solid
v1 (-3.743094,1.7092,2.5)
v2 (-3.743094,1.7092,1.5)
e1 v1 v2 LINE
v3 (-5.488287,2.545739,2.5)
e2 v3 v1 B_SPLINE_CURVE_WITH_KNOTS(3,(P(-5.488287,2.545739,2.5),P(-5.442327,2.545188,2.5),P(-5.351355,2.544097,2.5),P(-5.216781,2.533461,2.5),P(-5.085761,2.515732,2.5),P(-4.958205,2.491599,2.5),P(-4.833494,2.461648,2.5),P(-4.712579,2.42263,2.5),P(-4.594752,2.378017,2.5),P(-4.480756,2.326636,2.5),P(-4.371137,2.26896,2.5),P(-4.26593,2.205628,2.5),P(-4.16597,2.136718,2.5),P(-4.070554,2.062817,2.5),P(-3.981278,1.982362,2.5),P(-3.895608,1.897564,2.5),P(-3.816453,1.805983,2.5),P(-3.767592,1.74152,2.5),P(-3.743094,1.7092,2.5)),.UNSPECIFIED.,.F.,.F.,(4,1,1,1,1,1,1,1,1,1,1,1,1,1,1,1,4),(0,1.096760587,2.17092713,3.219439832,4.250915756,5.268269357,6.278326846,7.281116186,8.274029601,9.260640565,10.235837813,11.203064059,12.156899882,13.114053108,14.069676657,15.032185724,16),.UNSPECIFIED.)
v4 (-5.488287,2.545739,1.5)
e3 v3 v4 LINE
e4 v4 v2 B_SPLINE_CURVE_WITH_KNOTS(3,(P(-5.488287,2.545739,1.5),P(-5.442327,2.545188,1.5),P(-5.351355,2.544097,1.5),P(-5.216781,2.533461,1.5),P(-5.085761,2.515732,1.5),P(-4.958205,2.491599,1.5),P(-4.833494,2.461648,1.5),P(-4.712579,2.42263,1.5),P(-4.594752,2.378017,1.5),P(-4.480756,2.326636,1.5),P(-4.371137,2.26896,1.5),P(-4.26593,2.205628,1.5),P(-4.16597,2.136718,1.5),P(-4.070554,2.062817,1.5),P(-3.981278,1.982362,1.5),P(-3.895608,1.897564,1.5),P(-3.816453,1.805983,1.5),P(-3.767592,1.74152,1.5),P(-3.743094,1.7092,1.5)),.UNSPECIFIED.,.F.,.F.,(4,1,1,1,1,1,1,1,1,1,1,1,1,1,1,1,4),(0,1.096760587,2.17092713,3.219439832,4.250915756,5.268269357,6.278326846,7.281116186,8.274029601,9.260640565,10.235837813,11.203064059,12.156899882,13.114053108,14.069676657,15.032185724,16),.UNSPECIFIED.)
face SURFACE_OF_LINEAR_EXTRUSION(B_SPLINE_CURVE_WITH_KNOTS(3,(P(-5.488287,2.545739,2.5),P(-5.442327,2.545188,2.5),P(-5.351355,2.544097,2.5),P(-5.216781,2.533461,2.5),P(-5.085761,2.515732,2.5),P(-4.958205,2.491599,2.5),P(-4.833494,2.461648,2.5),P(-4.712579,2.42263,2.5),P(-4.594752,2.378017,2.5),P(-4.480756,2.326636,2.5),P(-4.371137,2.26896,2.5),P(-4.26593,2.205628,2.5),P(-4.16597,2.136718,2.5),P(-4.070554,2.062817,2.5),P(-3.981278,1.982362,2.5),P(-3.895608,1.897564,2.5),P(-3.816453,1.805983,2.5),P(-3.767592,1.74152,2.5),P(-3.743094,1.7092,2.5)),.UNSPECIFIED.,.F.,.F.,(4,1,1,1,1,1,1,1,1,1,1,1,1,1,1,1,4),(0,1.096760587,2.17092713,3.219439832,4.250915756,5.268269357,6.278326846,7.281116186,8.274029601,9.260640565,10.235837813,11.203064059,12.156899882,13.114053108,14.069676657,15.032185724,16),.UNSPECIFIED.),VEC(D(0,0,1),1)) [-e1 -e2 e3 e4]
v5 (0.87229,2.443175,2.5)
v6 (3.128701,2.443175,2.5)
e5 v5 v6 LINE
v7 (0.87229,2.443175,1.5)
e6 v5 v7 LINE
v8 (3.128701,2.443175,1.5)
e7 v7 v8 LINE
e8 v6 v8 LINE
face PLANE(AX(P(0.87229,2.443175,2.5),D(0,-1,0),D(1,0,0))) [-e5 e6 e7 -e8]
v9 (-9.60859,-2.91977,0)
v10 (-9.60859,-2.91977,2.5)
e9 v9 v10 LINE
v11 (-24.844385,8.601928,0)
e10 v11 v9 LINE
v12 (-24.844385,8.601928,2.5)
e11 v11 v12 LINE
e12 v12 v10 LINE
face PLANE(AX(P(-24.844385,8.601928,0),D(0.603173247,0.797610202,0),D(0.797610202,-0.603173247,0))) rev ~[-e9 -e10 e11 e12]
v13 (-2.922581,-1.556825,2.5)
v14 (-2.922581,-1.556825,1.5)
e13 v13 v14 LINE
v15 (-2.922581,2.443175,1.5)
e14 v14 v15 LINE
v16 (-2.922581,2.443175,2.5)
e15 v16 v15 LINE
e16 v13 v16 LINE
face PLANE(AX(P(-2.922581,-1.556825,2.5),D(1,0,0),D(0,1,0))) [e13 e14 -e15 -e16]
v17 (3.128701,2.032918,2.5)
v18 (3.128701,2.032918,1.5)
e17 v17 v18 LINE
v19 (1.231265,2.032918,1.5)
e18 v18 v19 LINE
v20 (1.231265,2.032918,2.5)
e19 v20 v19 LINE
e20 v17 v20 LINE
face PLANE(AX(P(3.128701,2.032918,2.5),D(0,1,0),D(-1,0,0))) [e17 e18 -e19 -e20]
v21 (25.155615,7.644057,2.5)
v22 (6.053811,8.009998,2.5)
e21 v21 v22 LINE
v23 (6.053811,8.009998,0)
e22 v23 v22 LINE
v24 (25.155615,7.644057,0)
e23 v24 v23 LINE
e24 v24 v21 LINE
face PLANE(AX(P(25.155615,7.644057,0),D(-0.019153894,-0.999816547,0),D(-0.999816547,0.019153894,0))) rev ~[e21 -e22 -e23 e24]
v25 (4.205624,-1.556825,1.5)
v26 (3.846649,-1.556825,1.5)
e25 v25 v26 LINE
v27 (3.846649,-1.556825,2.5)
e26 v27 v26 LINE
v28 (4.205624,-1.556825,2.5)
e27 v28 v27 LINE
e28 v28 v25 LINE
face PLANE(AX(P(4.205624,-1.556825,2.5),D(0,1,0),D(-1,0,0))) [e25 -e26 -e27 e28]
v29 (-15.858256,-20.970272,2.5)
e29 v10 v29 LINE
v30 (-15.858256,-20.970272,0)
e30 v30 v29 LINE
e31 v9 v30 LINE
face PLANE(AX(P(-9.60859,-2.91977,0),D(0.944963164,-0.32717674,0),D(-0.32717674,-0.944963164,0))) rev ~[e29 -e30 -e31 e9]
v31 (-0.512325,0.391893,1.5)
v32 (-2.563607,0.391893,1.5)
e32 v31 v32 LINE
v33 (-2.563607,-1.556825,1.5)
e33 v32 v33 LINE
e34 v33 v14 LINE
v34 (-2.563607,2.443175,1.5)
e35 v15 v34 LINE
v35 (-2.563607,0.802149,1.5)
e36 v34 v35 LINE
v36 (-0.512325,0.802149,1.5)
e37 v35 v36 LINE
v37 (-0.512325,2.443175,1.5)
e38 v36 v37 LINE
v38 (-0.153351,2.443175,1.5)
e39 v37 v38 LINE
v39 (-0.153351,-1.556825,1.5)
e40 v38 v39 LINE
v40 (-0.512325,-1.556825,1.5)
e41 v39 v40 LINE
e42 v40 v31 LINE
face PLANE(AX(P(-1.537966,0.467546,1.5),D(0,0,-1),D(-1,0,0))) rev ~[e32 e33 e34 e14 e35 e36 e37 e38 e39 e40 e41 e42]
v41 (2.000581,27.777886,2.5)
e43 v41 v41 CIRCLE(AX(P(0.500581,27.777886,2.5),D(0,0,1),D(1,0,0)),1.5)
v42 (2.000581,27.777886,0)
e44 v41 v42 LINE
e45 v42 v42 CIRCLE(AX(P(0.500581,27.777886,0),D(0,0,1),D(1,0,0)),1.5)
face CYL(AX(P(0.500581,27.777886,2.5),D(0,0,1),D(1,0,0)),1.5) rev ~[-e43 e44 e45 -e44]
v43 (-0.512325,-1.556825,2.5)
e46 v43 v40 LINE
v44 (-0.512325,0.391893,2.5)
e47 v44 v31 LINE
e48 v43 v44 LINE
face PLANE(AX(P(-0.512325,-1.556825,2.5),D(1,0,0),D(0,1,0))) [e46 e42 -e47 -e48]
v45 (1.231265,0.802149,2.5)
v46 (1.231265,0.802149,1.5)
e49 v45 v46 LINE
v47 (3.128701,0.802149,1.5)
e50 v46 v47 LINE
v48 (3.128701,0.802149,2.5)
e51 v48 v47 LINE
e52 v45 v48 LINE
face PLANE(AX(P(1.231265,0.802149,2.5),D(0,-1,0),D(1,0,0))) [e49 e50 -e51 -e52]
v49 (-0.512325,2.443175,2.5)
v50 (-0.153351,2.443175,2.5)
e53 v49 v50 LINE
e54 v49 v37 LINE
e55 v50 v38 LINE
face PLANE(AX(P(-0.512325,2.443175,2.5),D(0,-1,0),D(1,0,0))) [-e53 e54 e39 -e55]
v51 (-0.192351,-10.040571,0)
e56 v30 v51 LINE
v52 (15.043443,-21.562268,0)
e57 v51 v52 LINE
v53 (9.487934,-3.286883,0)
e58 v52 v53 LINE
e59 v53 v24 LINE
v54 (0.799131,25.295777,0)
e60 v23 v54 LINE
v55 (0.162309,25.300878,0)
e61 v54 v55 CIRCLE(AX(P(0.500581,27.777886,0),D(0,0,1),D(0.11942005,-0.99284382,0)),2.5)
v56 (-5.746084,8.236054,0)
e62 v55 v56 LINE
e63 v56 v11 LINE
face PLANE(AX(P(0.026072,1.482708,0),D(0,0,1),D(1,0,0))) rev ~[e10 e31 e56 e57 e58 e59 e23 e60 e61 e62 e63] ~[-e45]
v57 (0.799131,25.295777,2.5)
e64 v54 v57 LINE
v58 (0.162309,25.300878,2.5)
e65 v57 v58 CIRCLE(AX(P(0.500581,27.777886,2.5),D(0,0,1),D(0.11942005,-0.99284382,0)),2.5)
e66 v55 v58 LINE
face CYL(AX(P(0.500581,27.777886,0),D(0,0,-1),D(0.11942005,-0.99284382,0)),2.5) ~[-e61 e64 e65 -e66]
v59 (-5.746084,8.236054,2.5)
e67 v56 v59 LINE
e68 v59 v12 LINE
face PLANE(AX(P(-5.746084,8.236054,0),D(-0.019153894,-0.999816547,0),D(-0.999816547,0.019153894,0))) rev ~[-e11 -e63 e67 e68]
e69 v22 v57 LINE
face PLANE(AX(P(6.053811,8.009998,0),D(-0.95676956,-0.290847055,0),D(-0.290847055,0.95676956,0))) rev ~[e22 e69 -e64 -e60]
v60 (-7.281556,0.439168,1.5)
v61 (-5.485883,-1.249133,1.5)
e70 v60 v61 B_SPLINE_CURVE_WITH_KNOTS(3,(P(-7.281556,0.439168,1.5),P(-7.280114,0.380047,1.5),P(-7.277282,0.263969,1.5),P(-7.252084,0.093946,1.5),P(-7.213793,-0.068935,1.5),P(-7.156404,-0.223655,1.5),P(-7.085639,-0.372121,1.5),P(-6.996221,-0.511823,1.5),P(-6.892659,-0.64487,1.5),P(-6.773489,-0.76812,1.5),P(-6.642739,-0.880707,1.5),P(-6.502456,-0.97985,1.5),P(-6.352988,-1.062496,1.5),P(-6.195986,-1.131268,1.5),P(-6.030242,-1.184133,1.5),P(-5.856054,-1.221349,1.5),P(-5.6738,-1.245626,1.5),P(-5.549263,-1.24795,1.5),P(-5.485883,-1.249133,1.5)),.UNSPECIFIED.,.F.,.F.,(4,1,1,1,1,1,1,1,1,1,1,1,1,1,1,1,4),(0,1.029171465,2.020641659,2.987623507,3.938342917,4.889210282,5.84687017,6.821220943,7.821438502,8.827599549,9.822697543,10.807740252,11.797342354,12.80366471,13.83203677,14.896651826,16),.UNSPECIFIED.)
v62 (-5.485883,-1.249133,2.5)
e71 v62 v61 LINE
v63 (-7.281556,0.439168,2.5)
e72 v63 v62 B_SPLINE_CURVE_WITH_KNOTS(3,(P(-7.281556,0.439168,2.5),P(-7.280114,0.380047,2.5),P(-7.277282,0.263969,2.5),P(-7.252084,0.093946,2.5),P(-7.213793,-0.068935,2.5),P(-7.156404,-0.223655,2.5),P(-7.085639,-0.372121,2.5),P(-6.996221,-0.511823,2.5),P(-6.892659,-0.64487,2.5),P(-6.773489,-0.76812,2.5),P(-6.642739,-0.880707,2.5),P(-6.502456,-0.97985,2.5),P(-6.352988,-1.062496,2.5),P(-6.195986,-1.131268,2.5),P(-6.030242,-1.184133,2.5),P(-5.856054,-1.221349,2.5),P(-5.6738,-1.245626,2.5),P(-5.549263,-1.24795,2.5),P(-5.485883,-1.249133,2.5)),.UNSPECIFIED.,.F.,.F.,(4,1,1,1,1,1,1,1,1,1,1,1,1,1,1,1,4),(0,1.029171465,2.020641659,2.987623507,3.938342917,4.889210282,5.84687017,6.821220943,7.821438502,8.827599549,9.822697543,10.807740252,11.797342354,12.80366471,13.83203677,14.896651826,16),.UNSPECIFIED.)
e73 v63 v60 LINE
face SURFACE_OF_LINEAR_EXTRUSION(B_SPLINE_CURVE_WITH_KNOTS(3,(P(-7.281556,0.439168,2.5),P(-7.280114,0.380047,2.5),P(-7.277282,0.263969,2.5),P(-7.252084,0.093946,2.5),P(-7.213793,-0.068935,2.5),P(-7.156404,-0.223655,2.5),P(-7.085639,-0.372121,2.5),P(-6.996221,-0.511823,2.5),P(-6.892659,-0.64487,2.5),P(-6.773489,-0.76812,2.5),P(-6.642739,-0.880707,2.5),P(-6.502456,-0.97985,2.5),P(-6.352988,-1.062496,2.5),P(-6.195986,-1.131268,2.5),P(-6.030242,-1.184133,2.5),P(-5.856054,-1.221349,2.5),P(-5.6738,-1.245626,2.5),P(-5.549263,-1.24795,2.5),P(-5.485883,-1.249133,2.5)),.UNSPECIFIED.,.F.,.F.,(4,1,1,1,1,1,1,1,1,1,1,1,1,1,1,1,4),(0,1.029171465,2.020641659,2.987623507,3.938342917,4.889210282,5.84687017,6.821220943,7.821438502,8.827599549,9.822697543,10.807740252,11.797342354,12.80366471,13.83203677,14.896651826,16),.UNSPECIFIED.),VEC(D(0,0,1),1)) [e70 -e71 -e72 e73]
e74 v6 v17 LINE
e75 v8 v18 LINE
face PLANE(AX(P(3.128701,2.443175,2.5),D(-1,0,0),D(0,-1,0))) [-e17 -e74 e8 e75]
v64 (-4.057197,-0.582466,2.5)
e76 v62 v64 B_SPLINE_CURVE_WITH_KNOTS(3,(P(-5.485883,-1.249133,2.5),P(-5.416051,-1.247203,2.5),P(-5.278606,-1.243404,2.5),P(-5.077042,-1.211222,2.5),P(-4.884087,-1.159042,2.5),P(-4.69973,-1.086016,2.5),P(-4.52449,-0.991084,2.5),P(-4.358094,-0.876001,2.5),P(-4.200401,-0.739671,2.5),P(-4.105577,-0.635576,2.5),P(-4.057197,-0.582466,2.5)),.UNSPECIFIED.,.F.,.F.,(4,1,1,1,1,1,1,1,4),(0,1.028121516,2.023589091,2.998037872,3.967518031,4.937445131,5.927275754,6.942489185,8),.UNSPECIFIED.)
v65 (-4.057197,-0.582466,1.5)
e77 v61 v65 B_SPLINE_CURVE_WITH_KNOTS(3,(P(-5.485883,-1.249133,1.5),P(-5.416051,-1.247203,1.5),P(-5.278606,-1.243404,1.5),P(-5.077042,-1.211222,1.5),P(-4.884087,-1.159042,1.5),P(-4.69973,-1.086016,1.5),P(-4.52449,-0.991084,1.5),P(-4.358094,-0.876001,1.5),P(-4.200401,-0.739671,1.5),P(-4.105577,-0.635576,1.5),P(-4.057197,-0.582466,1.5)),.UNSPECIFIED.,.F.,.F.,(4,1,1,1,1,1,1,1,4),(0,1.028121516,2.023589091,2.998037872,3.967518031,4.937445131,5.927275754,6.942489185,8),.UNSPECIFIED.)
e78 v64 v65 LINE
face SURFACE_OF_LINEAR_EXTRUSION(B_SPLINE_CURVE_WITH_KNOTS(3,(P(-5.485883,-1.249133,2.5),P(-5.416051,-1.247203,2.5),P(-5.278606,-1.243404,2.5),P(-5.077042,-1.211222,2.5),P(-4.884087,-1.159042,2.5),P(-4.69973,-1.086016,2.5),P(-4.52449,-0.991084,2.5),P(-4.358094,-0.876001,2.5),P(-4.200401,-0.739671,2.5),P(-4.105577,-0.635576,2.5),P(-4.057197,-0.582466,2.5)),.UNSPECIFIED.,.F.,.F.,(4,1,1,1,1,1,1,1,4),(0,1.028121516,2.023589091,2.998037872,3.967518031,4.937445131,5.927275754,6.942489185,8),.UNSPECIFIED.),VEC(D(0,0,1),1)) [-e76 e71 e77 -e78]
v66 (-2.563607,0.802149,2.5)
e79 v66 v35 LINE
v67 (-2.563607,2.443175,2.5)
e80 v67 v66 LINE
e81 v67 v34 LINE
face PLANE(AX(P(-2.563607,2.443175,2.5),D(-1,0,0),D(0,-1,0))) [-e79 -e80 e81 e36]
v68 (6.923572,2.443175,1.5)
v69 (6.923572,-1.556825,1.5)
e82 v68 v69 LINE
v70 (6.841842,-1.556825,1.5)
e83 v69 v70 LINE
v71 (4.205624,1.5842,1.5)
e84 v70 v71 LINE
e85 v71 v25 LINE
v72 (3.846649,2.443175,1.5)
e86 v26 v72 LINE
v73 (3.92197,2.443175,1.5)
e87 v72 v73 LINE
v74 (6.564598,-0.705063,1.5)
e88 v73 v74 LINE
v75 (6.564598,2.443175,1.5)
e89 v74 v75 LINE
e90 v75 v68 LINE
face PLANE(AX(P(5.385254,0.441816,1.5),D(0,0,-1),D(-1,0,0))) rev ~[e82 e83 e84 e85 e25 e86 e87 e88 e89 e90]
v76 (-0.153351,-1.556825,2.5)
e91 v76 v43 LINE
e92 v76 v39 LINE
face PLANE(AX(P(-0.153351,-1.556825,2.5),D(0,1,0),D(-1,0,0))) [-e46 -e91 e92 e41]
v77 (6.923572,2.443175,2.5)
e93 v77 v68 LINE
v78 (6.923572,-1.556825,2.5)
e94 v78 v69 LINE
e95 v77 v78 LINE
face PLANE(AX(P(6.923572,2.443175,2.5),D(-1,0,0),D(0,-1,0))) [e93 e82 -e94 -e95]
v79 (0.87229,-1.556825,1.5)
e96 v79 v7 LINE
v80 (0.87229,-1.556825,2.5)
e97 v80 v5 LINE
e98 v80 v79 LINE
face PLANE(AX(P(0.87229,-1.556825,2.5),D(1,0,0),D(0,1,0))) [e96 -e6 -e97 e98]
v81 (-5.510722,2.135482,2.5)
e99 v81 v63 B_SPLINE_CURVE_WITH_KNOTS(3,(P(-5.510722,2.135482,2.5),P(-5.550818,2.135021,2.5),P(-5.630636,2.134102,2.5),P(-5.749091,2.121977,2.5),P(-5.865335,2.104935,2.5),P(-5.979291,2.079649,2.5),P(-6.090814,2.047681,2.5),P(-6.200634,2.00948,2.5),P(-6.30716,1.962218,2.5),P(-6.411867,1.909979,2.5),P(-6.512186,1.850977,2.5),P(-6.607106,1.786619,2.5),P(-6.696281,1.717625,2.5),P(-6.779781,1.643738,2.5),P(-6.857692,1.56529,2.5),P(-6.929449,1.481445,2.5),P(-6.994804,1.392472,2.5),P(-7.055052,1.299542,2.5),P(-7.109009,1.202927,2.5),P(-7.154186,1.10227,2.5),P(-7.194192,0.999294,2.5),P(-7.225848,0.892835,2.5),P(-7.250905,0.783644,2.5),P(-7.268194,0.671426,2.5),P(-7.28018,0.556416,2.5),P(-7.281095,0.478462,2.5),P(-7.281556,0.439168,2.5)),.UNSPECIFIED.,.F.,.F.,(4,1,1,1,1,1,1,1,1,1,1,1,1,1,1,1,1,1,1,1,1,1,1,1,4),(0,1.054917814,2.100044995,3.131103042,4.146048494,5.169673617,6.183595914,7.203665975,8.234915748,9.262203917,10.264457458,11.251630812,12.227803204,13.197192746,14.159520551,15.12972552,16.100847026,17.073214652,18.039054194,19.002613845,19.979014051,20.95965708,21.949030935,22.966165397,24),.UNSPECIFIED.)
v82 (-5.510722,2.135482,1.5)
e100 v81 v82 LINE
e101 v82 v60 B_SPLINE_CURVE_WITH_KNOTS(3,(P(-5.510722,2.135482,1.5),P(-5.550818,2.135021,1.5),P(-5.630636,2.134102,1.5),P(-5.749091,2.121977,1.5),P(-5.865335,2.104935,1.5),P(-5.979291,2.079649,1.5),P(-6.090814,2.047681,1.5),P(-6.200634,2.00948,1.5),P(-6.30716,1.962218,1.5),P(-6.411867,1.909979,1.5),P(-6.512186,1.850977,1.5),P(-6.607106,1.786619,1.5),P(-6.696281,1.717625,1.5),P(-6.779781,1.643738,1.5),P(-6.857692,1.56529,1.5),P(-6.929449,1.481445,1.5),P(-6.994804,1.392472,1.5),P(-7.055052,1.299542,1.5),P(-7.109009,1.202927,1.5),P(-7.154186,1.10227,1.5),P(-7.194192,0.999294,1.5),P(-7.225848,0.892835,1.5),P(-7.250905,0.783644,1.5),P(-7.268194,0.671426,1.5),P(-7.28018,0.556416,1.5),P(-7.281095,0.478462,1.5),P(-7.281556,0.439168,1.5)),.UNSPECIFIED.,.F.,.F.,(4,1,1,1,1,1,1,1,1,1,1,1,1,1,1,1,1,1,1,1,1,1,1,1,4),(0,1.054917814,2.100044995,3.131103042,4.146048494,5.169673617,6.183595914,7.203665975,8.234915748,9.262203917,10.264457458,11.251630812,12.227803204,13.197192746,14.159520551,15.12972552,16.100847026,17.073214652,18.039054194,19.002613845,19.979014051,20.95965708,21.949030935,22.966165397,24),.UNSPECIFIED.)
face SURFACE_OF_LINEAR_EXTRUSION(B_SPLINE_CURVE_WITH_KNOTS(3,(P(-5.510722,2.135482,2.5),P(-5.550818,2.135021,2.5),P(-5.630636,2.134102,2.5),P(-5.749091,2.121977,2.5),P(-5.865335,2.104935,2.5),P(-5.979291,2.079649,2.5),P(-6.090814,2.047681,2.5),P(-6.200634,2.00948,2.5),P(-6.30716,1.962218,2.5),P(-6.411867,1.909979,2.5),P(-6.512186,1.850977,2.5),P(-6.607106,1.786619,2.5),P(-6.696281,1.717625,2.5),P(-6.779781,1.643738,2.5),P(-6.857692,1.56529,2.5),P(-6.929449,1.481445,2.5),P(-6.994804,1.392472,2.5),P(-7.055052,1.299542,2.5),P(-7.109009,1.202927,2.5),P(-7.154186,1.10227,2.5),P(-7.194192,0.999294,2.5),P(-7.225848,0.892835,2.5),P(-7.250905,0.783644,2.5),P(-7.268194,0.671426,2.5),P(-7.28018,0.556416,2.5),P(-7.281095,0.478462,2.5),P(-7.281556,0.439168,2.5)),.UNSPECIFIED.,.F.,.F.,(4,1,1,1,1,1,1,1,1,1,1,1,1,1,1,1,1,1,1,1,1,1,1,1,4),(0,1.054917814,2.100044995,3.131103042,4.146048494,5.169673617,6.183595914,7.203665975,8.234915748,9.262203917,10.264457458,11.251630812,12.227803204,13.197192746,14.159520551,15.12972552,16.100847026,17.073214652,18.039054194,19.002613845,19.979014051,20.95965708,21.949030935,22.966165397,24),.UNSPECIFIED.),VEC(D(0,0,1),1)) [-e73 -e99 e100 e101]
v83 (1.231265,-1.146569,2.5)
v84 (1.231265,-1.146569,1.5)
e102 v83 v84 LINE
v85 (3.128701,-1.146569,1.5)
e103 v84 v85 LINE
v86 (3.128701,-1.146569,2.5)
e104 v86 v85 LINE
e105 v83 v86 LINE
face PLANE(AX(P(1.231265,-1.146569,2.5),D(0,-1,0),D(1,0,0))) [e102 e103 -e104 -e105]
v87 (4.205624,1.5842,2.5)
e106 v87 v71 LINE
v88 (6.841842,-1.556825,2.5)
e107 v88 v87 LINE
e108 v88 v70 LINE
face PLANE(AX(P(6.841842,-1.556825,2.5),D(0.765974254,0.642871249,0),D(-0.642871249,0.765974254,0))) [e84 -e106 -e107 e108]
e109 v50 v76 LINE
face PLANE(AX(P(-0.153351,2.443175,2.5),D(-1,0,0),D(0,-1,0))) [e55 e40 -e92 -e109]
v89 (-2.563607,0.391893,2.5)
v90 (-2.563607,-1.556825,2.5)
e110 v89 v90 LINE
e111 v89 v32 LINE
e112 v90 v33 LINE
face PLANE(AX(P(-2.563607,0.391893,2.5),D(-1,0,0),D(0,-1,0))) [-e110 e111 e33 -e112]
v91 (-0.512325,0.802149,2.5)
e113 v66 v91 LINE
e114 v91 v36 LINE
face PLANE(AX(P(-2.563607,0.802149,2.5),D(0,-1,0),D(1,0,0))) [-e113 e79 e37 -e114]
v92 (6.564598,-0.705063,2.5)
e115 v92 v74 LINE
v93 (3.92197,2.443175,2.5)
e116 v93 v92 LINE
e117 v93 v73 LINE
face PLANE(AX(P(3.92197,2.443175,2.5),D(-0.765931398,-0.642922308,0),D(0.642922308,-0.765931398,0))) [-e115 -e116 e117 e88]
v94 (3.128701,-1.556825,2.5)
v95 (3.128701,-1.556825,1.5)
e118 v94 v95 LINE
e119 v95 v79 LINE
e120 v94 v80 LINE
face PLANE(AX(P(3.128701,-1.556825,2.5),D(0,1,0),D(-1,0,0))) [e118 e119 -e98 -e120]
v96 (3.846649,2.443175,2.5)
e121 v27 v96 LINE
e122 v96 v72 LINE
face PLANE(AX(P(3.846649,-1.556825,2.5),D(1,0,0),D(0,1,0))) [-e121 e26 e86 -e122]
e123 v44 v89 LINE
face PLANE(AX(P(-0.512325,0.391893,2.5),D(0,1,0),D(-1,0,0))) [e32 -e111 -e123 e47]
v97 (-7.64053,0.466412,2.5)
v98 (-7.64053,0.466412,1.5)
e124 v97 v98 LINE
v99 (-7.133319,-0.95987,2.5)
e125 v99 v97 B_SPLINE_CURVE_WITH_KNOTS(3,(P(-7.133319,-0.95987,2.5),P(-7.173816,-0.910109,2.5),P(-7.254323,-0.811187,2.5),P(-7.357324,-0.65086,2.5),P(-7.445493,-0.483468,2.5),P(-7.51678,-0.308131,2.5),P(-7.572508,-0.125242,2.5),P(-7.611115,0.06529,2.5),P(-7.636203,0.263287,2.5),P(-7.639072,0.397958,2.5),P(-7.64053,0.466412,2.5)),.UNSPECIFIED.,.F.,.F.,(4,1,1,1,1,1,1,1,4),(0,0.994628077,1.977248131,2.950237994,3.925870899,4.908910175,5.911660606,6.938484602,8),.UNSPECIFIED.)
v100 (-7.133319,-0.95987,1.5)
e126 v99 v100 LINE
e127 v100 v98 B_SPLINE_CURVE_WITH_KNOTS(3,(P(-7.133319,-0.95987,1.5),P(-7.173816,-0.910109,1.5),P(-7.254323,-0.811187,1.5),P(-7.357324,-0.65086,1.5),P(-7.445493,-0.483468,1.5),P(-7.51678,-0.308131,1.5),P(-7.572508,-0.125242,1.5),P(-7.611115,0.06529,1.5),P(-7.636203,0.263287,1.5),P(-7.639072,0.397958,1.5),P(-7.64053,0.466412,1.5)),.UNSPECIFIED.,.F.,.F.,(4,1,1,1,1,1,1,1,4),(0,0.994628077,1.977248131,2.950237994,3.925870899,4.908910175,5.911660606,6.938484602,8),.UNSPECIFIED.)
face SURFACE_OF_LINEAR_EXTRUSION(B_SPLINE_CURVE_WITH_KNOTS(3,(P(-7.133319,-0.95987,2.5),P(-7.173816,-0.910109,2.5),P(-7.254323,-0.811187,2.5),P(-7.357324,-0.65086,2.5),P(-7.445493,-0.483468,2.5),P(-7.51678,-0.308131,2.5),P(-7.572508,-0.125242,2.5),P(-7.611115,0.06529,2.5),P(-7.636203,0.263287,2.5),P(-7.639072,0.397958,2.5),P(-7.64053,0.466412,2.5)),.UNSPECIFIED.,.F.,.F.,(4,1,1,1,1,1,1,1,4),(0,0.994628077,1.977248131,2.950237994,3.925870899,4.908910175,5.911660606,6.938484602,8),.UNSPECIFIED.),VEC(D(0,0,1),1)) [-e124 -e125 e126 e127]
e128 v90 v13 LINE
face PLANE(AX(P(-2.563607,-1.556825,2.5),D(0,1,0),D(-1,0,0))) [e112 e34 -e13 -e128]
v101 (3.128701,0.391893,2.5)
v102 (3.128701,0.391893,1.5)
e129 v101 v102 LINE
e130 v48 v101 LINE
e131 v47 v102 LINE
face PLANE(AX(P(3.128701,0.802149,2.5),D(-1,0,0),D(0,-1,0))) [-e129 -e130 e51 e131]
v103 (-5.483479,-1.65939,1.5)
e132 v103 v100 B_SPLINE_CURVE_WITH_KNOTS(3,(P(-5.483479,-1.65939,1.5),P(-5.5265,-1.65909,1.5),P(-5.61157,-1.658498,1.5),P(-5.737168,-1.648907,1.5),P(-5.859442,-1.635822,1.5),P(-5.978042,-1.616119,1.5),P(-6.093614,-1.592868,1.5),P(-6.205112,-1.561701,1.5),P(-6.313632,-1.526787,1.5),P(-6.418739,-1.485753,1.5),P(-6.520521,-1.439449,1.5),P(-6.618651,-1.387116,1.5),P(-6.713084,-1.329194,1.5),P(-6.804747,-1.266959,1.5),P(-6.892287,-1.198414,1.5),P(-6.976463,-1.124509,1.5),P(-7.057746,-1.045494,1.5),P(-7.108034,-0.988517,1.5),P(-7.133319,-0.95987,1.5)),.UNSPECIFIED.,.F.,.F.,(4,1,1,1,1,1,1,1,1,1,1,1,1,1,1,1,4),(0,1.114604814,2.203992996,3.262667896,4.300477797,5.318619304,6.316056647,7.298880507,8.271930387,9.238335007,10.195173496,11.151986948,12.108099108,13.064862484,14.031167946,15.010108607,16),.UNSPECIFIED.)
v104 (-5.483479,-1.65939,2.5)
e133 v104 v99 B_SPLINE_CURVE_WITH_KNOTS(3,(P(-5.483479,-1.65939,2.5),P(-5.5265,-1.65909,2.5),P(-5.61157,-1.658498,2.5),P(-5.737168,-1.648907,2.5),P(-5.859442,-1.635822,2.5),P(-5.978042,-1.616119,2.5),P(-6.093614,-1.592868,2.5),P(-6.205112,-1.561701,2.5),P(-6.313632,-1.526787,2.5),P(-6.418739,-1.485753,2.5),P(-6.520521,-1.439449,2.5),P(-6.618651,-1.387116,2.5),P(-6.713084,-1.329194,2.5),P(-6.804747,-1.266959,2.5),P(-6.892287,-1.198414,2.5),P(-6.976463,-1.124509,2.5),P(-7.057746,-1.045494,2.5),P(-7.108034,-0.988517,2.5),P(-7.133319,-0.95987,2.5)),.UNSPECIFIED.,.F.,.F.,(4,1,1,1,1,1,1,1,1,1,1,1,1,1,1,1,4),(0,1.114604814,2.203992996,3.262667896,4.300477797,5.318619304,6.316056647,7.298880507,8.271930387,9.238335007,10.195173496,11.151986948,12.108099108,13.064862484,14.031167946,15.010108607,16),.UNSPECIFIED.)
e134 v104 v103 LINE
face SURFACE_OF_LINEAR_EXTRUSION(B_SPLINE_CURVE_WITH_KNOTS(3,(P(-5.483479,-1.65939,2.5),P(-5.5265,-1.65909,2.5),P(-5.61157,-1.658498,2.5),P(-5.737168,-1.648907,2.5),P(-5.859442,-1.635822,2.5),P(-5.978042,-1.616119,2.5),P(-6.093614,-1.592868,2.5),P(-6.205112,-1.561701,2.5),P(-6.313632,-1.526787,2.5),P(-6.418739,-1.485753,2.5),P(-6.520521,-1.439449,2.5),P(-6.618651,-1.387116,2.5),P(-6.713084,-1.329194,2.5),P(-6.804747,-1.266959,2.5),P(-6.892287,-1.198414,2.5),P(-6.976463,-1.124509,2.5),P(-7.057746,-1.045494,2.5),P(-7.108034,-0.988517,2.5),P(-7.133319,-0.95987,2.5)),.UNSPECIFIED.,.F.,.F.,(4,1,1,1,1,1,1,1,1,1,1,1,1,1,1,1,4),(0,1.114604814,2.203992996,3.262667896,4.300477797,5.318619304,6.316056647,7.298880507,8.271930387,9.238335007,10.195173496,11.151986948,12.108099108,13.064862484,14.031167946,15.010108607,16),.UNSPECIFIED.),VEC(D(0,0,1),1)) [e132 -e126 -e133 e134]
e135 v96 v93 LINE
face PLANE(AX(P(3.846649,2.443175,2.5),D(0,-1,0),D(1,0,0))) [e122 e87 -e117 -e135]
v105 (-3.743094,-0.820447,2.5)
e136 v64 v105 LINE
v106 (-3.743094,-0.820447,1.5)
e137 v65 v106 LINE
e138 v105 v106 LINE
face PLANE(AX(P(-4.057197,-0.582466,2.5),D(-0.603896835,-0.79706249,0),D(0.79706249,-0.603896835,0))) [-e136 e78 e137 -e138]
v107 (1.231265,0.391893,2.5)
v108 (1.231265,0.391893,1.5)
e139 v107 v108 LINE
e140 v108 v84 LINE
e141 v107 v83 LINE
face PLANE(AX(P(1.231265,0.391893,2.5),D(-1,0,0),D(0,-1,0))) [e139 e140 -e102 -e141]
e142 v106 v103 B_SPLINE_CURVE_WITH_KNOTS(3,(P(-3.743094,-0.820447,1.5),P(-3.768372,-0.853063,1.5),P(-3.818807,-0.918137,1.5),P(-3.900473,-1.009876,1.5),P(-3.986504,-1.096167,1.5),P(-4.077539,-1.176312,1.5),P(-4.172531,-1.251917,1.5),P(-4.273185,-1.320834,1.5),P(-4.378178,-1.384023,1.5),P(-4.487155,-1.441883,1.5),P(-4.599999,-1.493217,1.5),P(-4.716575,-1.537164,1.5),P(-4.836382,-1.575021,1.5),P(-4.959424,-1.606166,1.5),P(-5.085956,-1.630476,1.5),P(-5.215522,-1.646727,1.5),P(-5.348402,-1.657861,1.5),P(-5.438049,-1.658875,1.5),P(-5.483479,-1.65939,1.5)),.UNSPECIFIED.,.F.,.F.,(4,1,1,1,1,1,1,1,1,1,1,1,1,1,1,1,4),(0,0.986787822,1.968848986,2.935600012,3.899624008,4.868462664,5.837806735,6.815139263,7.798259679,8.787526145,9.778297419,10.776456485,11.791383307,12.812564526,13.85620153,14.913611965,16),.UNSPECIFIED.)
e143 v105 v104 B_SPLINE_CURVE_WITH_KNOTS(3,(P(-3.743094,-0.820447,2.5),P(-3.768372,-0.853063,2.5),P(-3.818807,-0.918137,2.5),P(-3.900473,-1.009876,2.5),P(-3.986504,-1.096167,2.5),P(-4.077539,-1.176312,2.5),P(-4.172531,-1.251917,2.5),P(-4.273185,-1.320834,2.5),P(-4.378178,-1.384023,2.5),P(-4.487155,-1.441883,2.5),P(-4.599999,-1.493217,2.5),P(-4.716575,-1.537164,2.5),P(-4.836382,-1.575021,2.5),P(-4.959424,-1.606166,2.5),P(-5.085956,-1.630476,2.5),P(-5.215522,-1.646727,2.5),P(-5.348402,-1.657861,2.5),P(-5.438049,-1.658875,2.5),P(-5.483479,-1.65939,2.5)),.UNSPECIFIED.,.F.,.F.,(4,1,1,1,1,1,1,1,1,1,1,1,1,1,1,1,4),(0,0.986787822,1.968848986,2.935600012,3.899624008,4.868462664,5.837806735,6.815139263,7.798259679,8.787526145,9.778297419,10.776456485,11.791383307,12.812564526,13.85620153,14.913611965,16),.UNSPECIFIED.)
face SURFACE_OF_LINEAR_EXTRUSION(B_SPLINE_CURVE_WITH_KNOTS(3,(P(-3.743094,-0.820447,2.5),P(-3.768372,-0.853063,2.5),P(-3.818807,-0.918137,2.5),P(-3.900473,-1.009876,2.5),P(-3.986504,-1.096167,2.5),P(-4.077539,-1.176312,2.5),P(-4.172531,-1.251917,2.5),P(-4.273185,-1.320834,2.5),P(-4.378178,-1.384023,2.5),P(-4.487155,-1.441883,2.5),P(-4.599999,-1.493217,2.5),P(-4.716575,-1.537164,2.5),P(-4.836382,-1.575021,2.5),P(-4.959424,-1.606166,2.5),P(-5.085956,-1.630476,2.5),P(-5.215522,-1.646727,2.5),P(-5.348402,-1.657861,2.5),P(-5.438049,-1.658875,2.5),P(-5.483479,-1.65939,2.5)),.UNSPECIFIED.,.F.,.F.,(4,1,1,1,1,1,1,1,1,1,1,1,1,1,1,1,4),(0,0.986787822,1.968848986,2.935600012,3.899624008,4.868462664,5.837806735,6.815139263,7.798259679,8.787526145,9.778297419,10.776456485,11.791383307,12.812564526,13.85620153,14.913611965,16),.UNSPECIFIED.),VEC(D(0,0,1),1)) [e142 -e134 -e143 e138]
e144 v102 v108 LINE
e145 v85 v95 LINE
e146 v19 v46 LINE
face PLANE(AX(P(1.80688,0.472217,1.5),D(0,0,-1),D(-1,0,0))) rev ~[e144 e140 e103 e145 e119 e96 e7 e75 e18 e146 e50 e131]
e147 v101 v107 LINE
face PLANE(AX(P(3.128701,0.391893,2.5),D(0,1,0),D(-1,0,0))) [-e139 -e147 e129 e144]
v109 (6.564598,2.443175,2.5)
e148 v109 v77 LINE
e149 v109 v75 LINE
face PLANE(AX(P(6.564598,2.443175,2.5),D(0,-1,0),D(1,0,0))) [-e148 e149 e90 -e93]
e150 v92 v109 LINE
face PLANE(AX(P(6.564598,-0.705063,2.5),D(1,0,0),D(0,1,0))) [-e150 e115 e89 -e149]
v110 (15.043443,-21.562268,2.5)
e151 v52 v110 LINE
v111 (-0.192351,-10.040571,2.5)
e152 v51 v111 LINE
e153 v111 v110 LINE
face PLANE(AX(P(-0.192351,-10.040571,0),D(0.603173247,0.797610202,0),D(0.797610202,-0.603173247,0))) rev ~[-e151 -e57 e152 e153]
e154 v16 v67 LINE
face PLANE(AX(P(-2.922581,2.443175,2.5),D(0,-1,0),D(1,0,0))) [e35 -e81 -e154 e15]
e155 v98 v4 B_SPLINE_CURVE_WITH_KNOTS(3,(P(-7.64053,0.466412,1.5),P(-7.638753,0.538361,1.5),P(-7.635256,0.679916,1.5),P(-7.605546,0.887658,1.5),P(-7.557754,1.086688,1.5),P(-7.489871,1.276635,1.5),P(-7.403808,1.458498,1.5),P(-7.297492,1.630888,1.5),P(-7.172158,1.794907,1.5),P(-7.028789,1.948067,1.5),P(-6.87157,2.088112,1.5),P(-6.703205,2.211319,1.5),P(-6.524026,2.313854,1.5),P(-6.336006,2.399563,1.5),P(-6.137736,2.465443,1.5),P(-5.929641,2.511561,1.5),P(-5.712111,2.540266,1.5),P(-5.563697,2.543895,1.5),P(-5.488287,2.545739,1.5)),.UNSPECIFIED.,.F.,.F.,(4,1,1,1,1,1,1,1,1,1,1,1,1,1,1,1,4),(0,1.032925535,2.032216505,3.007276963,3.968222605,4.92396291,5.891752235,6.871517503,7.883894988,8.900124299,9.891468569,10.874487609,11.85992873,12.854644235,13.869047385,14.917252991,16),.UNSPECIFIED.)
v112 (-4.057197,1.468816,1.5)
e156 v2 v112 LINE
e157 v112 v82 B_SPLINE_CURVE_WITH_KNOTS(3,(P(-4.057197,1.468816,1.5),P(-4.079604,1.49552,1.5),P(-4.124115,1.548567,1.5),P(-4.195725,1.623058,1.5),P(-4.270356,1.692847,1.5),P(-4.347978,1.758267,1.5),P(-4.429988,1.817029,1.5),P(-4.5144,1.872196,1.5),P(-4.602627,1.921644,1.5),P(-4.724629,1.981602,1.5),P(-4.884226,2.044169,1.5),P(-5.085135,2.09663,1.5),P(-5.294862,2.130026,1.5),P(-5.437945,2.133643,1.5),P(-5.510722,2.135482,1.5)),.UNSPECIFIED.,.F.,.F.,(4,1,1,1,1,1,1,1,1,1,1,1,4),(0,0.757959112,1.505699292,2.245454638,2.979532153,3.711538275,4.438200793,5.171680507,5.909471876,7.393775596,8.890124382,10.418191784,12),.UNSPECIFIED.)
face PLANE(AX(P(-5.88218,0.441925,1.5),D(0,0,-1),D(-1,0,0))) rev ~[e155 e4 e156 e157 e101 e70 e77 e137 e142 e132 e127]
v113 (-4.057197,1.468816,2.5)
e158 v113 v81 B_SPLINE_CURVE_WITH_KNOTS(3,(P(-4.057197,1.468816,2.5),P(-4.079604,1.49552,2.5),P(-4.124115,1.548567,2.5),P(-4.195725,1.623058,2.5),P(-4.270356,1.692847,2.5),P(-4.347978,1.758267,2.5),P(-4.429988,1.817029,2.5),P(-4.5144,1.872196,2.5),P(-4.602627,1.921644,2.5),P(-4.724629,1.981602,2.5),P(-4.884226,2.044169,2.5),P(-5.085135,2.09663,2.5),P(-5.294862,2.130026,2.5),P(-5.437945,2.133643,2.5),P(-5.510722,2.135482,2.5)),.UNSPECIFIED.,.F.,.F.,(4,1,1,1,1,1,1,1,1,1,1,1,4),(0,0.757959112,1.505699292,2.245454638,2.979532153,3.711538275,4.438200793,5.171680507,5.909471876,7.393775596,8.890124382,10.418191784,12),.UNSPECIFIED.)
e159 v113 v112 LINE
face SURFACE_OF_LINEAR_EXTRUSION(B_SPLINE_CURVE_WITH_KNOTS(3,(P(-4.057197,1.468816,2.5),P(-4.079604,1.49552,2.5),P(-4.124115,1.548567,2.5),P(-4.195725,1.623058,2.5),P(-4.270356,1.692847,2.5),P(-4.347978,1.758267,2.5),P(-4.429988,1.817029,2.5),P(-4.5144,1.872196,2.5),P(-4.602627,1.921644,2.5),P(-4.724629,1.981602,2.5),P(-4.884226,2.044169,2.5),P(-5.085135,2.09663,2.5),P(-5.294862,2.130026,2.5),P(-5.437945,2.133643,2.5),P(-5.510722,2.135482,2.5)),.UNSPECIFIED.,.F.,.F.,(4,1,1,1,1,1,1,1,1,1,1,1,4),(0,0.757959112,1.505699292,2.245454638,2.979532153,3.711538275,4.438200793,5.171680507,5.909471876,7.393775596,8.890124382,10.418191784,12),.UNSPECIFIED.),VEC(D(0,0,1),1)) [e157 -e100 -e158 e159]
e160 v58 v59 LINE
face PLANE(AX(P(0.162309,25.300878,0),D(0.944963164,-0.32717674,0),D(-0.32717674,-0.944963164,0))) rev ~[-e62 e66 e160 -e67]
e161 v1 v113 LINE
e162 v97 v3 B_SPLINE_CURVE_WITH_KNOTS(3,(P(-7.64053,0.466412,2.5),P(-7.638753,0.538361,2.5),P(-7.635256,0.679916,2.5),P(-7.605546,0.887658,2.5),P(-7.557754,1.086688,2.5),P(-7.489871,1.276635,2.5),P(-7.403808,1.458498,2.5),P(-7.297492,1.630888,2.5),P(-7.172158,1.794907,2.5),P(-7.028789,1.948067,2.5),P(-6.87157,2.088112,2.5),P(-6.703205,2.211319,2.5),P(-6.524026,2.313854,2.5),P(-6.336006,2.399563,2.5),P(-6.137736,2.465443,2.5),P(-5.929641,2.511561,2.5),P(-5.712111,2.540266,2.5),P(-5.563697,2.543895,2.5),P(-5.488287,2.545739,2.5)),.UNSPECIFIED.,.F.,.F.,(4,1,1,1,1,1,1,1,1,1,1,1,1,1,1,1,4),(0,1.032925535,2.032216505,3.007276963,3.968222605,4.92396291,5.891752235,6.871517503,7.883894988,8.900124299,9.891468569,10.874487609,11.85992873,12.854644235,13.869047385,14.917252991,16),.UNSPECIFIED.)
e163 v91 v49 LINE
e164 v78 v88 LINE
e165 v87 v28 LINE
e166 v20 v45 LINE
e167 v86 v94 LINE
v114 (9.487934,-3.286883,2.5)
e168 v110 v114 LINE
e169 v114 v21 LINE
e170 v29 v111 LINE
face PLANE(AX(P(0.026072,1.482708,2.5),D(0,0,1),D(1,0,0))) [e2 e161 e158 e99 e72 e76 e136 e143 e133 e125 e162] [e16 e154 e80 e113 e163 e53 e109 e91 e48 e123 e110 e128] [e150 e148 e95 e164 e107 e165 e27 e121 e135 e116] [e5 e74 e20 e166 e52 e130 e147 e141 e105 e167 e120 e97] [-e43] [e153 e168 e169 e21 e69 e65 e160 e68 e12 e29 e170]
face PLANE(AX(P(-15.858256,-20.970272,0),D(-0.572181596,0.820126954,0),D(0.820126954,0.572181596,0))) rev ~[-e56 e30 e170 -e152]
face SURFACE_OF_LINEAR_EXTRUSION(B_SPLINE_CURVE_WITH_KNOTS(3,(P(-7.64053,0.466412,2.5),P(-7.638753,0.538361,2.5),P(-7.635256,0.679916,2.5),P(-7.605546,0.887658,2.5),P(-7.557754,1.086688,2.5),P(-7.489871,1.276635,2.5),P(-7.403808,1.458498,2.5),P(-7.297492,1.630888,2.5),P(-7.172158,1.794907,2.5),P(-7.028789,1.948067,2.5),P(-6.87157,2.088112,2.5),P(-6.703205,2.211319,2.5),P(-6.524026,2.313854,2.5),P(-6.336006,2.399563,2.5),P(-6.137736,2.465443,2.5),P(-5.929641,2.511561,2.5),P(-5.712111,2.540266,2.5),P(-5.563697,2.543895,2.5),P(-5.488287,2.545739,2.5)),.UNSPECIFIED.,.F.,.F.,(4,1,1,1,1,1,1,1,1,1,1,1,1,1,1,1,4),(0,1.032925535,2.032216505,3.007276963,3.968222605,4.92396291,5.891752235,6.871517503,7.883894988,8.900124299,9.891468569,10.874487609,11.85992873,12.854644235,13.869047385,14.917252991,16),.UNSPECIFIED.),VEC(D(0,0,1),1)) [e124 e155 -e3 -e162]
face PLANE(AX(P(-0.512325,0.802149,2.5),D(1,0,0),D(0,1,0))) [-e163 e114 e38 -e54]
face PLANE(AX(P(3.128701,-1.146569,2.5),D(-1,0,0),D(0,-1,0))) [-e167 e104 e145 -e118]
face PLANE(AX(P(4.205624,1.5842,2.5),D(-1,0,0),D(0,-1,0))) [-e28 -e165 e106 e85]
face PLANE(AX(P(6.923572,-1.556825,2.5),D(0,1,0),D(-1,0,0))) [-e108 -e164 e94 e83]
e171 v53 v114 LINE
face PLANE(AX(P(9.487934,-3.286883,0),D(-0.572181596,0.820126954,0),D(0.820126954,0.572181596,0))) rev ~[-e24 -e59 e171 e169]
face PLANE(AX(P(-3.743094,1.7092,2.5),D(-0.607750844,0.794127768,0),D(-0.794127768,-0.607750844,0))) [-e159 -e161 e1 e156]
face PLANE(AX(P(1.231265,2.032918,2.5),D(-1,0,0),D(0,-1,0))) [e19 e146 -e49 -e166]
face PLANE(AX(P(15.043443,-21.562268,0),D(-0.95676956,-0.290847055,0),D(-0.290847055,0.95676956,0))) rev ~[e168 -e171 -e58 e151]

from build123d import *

# Parameters (mm, degrees)
EXTRUDE_1_DEPTH     = 2.5
CUT_EXTRUDE_1_DEPTH = 1
SKETCH_4_R          = 1.5
CUT_EXTRUDE_3_DEPTH = 2.5


with BuildPart() as part:
    # 草图1 → 凸台-拉伸1 (new body)
    with BuildSketch(Plane.XY):
        with BuildLine():
            Line((-24.844384519, 8.60192761), (-9.608590106, -2.919770039))
            Line((-9.608590106, -2.919770039), (-15.858256337, -20.970271974))
            Line((-15.858256337, -20.970271974), (-0.192351313, -10.040570794))
            Line((-0.192351313, -10.040570794), (15.0434431, -21.562268443))
            Line((15.0434431, -21.562268443), (9.487934055, -3.286883328))
            Line((9.487934055, -3.286883328), (25.155615481, 7.644057202))
            Line((25.155615481, 7.644057202), (6.053810642, 8.009998274))
            Line((6.053810642, 8.009998274), (0.799130777, 25.295776665))
            ThreePointArc((0.799130777, 25.295776665), (0.520604646, 30.277806022), (0.162308714, 25.300877517))
            Line((0.162308714, 25.300877517), (-5.746083956, 8.236053671))
            Line((-5.746083956, 8.236053671), (-24.844384519, 8.60192761))
        make_face()
    extrude(amount=EXTRUDE_1_DEPTH)

    # 草图2 → 切除-拉伸1 (cut)
    with BuildSketch(Plane.XY.offset(2.5)):
        with BuildLine():
            Line((-3.743094252, 1.70920022), (-4.057196816, 1.468815604))
            add(Edge.make_bspline(
                [(-4.057196816, 1.468815604), (-4.079603546, 1.49551957), (-4.124114914, 1.548567474), (-4.195725431, 1.623058382), (-4.27035588, 1.692847252), (-4.347977733, 1.758266543), (-4.429988155, 1.817028561), (-4.514400496, 1.872195536), (-4.602626834, 1.921644379), (-4.724628816, 1.981602077), (-4.884226357, 2.044169112), (-5.085134745, 2.096629947), (-5.294861714, 2.130025577), (-5.437944685, 2.133642538), (-5.510722457, 2.135482271)],
                knots=[0, 0, 0, 0, 0.757959112, 1.505699292, 2.245454638, 2.979532153, 3.711538275, 4.438200793, 5.171680507, 5.909471876, 7.393775596, 8.890124382, 10.418191784, 12, 12, 12, 12], degree=3))
            add(Edge.make_bspline(
                [(-5.510722457, 2.135482271), (-5.550817657, 2.1350206), (-5.630635934, 2.134101541), (-5.749091332, 2.121976827), (-5.865334819, 2.104935444), (-5.979290781, 2.07964936), (-6.090814162, 2.047680653), (-6.20063405, 2.00948018), (-6.30716045, 1.962217506), (-6.411867008, 1.909979494), (-6.512186106, 1.8509767), (-6.60710616, 1.786618584), (-6.696280981, 1.717625331), (-6.779781109, 1.643738352), (-6.857691907, 1.565290397), (-6.929448834, 1.481445435), (-6.994803588, 1.392471523), (-7.055051617, 1.299541914), (-7.109009027, 1.202927295), (-7.154186032, 1.102270072), (-7.194191886, 0.999293954), (-7.225848163, 0.892835485), (-7.250904753, 0.783643752), (-7.268193512, 0.671425709), (-7.280180336, 0.556415789), (-7.281094824, 0.478462289), (-7.281555791, 0.439168169)],
                knots=[0, 0, 0, 0, 1.054917814, 2.100044995, 3.131103042, 4.146048494, 5.169673617, 6.183595914, 7.203665975, 8.234915748, 9.262203917, 10.264457458, 11.251630812, 12.227803204, 13.197192746, 14.159520551, 15.12972552, 16.100847026, 17.073214652, 18.039054194, 19.002613845, 19.979014051, 20.95965708, 21.949030935, 22.966165397, 24, 24, 24, 24], degree=3))
            add(Edge.make_bspline(
                [(-7.281555791, 0.439168169), (-7.280113712, 0.38004666), (-7.277282381, 0.26396942), (-7.252084285, 0.093945865), (-7.213792752, -0.068934905), (-7.156403521, -0.223654725), (-7.085638892, -0.372121419), (-6.996221051, -0.511822966), (-6.892659294, -0.644870468), (-6.773488528, -0.768119552), (-6.642739024, -0.880706666), (-6.502455697, -0.979850188), (-6.352987939, -1.062495768), (-6.195986076, -1.131268278), (-6.030241946, -1.18413311), (-5.856053601, -1.221349251), (-5.673799892, -1.245626029), (-5.549263435, -1.247950244), (-5.485882714, -1.249133114)],
                knots=[0, 0, 0, 0, 1.029171465, 2.020641659, 2.987623507, 3.938342917, 4.889210282, 5.84687017, 6.821220943, 7.821438502, 8.827599549, 9.822697543, 10.807740252, 11.797342354, 12.80366471, 13.83203677, 14.896651826, 16, 16, 16, 16], degree=3))
            add(Edge.make_bspline(
                [(-5.485882714, -1.249133114), (-5.416051069, -1.24720308), (-5.278605688, -1.243404311), (-5.077042229, -1.211222312), (-4.884087068, -1.159041834), (-4.699729826, -1.086015637), (-4.524490231, -0.99108388), (-4.358094048, -0.876000591), (-4.200400824, -0.739671068), (-4.105576502, -0.635576065), (-4.057196816, -0.582466447)],
                knots=[0, 0, 0, 0, 1.028121516, 2.023589091, 2.998037872, 3.967518031, 4.937445131, 5.927275754, 6.942489185, 8, 8, 8, 8], degree=3))
            Line((-4.057196816, -0.582466447), (-3.743094252, -0.820447216))
            add(Edge.make_bspline(
                [(-3.743094252, -0.820447216), (-3.768372092, -0.85306259), (-3.818806692, -0.918137111), (-3.900472998, -1.009876208), (-3.986504195, -1.096166534), (-4.077539292, -1.176312387), (-4.172531054, -1.251917491), (-4.273185125, -1.320833869), (-4.378178305, -1.384023451), (-4.487154852, -1.441882794), (-4.599998981, -1.49321679), (-4.716575478, -1.537163953), (-4.83638185, -1.57502097), (-4.959423574, -1.606166041), (-5.085955868, -1.630475851), (-5.215522124, -1.646726908), (-5.348401981, -1.657860524), (-5.438049319, -1.658875285), (-5.483478868, -1.659389524)],
                knots=[0, 0, 0, 0, 0.986787822, 1.968848986, 2.935600012, 3.899624008, 4.868462664, 5.837806735, 6.815139263, 7.798259679, 8.787526145, 9.778297419, 10.776456485, 11.791383307, 12.812564526, 13.85620153, 14.913611965, 16, 16, 16, 16], degree=3))
            add(Edge.make_bspline(
                [(-5.483478868, -1.659389524), (-5.526500201, -1.659090104), (-5.611569562, -1.658498038), (-5.737168135, -1.648906989), (-5.859441941, -1.635821576), (-5.978041514, -1.616118569), (-6.093614057, -1.592867894), (-6.205111868, -1.561700744), (-6.313632108, -1.526787411), (-6.418738783, -1.48575314), (-6.520521297, -1.439448931), (-6.618651367, -1.387115721), (-6.713083861, -1.32919359), (-6.8047472, -1.266959293), (-6.892287295, -1.198413805), (-6.976462753, -1.12450908), (-7.057745583, -1.04549421), (-7.108034366, -0.988517235), (-7.133318611, -0.959870293)],
                knots=[0, 0, 0, 0, 1.114604814, 2.203992996, 3.262667896, 4.300477797, 5.318619304, 6.316056647, 7.298880507, 8.271930387, 9.238335007, 10.195173496, 11.151986948, 12.108099108, 13.064862484, 14.031167946, 15.010108607, 16, 16, 16, 16], degree=3))
            add(Edge.make_bspline(
                [(-7.133318611, -0.959870293), (-7.17381649, -0.910108934), (-7.25432332, -0.81118698), (-7.357324101, -0.650860144), (-7.445492736, -0.483467905), (-7.516779503, -0.308130844), (-7.57250834, -0.125242401), (-7.61111542, 0.065289615), (-7.636202968, 0.263287264), (-7.63907187, 0.397957879), (-7.64053015, 0.466411758)],
                knots=[0, 0, 0, 0, 0.994628077, 1.977248131, 2.950237994, 3.925870899, 4.908910175, 5.911660606, 6.938484602, 8, 8, 8, 8], degree=3))
            add(Edge.make_bspline(
                [(-7.64053015, 0.466411758), (-7.638752786, 0.538360848), (-7.635255933, 0.67991619), (-7.605546452, 0.887657851), (-7.557753542, 1.086688021), (-7.489871384, 1.276635158), (-7.403808125, 1.458498335), (-7.297491995, 1.630888284), (-7.172158118, 1.794907483), (-7.02878947, 1.948067199), (-6.871569658, 2.088112174), (-6.703205299, 2.211319264), (-6.524025931, 2.313853568), (-6.336005529, 2.399563468), (-6.137736179, 2.465442854), (-5.9296409, 2.511560782), (-5.712110712, 2.540266057), (-5.563696511, 2.543894866), (-5.48828656, 2.545738681)],
                knots=[0, 0, 0, 0, 1.032925535, 2.032216505, 3.007276963, 3.968222605, 4.92396291, 5.891752235, 6.871517503, 7.883894988, 8.900124299, 9.891468569, 10.874487609, 11.85992873, 12.854644235, 13.869047385, 14.917252991, 16, 16, 16, 16], degree=3))
            add(Edge.make_bspline(
                [(-5.48828656, 2.545738681), (-5.442327163, 2.545187666), (-5.351355167, 2.544096987), (-5.216780707, 2.533461396), (-5.085760904, 2.515731561), (-4.958205496, 2.49159891), (-4.833493935, 2.461647685), (-4.712579374, 2.422630201), (-4.594752303, 2.378017023), (-4.480755837, 2.326635919), (-4.371136922, 2.268959643), (-4.265929701, 2.205627502), (-4.165969863, 2.13671801), (-4.070554036, 2.062817238), (-3.981278366, 1.982361741), (-3.895608105, 1.897564489), (-3.816452587, 1.805982975), (-3.767591793, 1.741520194), (-3.743094252, 1.70920022)],
                knots=[0, 0, 0, 0, 1.096760587, 2.17092713, 3.219439832, 4.250915756, 5.268269357, 6.278326846, 7.281116186, 8.274029601, 9.260640565, 10.235837813, 11.203064059, 12.156899882, 13.114053108, 14.069676657, 15.032185724, 16, 16, 16, 16], degree=3))
        make_face()
        Polygon((-2.922581432, 2.443174579), (-2.563607073, 2.443174579), (-2.563607073, 0.802148938), (-0.512325021, 0.802148938), (-0.512325021, 2.443174579), (-0.153350663, 2.443174579), (-0.153350663, -1.556825421), (-0.512325021, -1.556825421), (-0.512325021, 0.391892527), (-2.563607073, 0.391892527), (-2.563607073, -1.556825421), (-2.922581432, -1.556825421), align=None)
        Polygon((0.872290363, 2.443174579), (3.12870062, 2.443174579), (3.12870062, 2.032918169), (1.231264722, 2.032918169), (1.231264722, 0.802148938), (3.12870062, 0.802148938), (3.12870062, 0.391892527), (1.231264722, 0.391892527), (1.231264722, -1.146569011), (3.12870062, -1.146569011), (3.12870062, -1.556825421), (0.872290363, -1.556825421), align=None)
        Polygon((3.846649337, -1.556825421), (3.846649337, 2.443174579), (3.92196985, 2.443174579), (6.564598055, -0.705062601), (6.564598055, 2.443174579), (6.923572414, 2.443174579), (6.923572414, -1.556825421), (6.841841645, -1.556825421), (4.205623696, 1.58420022), (4.205623696, -1.556825421), align=None)
    extrude(amount=-CUT_EXTRUDE_1_DEPTH, mode=Mode.SUBTRACT)

    # 草图4 → 切除-拉伸3 (cut)
    with BuildSketch(Plane.XY.offset(2.5)):
        with Locations((0.500580653, 27.777886216)):
            Circle(SKETCH_4_R)
    extrude(amount=-CUT_EXTRUDE_3_DEPTH, mode=Mode.SUBTRACT)


solid = part.part
